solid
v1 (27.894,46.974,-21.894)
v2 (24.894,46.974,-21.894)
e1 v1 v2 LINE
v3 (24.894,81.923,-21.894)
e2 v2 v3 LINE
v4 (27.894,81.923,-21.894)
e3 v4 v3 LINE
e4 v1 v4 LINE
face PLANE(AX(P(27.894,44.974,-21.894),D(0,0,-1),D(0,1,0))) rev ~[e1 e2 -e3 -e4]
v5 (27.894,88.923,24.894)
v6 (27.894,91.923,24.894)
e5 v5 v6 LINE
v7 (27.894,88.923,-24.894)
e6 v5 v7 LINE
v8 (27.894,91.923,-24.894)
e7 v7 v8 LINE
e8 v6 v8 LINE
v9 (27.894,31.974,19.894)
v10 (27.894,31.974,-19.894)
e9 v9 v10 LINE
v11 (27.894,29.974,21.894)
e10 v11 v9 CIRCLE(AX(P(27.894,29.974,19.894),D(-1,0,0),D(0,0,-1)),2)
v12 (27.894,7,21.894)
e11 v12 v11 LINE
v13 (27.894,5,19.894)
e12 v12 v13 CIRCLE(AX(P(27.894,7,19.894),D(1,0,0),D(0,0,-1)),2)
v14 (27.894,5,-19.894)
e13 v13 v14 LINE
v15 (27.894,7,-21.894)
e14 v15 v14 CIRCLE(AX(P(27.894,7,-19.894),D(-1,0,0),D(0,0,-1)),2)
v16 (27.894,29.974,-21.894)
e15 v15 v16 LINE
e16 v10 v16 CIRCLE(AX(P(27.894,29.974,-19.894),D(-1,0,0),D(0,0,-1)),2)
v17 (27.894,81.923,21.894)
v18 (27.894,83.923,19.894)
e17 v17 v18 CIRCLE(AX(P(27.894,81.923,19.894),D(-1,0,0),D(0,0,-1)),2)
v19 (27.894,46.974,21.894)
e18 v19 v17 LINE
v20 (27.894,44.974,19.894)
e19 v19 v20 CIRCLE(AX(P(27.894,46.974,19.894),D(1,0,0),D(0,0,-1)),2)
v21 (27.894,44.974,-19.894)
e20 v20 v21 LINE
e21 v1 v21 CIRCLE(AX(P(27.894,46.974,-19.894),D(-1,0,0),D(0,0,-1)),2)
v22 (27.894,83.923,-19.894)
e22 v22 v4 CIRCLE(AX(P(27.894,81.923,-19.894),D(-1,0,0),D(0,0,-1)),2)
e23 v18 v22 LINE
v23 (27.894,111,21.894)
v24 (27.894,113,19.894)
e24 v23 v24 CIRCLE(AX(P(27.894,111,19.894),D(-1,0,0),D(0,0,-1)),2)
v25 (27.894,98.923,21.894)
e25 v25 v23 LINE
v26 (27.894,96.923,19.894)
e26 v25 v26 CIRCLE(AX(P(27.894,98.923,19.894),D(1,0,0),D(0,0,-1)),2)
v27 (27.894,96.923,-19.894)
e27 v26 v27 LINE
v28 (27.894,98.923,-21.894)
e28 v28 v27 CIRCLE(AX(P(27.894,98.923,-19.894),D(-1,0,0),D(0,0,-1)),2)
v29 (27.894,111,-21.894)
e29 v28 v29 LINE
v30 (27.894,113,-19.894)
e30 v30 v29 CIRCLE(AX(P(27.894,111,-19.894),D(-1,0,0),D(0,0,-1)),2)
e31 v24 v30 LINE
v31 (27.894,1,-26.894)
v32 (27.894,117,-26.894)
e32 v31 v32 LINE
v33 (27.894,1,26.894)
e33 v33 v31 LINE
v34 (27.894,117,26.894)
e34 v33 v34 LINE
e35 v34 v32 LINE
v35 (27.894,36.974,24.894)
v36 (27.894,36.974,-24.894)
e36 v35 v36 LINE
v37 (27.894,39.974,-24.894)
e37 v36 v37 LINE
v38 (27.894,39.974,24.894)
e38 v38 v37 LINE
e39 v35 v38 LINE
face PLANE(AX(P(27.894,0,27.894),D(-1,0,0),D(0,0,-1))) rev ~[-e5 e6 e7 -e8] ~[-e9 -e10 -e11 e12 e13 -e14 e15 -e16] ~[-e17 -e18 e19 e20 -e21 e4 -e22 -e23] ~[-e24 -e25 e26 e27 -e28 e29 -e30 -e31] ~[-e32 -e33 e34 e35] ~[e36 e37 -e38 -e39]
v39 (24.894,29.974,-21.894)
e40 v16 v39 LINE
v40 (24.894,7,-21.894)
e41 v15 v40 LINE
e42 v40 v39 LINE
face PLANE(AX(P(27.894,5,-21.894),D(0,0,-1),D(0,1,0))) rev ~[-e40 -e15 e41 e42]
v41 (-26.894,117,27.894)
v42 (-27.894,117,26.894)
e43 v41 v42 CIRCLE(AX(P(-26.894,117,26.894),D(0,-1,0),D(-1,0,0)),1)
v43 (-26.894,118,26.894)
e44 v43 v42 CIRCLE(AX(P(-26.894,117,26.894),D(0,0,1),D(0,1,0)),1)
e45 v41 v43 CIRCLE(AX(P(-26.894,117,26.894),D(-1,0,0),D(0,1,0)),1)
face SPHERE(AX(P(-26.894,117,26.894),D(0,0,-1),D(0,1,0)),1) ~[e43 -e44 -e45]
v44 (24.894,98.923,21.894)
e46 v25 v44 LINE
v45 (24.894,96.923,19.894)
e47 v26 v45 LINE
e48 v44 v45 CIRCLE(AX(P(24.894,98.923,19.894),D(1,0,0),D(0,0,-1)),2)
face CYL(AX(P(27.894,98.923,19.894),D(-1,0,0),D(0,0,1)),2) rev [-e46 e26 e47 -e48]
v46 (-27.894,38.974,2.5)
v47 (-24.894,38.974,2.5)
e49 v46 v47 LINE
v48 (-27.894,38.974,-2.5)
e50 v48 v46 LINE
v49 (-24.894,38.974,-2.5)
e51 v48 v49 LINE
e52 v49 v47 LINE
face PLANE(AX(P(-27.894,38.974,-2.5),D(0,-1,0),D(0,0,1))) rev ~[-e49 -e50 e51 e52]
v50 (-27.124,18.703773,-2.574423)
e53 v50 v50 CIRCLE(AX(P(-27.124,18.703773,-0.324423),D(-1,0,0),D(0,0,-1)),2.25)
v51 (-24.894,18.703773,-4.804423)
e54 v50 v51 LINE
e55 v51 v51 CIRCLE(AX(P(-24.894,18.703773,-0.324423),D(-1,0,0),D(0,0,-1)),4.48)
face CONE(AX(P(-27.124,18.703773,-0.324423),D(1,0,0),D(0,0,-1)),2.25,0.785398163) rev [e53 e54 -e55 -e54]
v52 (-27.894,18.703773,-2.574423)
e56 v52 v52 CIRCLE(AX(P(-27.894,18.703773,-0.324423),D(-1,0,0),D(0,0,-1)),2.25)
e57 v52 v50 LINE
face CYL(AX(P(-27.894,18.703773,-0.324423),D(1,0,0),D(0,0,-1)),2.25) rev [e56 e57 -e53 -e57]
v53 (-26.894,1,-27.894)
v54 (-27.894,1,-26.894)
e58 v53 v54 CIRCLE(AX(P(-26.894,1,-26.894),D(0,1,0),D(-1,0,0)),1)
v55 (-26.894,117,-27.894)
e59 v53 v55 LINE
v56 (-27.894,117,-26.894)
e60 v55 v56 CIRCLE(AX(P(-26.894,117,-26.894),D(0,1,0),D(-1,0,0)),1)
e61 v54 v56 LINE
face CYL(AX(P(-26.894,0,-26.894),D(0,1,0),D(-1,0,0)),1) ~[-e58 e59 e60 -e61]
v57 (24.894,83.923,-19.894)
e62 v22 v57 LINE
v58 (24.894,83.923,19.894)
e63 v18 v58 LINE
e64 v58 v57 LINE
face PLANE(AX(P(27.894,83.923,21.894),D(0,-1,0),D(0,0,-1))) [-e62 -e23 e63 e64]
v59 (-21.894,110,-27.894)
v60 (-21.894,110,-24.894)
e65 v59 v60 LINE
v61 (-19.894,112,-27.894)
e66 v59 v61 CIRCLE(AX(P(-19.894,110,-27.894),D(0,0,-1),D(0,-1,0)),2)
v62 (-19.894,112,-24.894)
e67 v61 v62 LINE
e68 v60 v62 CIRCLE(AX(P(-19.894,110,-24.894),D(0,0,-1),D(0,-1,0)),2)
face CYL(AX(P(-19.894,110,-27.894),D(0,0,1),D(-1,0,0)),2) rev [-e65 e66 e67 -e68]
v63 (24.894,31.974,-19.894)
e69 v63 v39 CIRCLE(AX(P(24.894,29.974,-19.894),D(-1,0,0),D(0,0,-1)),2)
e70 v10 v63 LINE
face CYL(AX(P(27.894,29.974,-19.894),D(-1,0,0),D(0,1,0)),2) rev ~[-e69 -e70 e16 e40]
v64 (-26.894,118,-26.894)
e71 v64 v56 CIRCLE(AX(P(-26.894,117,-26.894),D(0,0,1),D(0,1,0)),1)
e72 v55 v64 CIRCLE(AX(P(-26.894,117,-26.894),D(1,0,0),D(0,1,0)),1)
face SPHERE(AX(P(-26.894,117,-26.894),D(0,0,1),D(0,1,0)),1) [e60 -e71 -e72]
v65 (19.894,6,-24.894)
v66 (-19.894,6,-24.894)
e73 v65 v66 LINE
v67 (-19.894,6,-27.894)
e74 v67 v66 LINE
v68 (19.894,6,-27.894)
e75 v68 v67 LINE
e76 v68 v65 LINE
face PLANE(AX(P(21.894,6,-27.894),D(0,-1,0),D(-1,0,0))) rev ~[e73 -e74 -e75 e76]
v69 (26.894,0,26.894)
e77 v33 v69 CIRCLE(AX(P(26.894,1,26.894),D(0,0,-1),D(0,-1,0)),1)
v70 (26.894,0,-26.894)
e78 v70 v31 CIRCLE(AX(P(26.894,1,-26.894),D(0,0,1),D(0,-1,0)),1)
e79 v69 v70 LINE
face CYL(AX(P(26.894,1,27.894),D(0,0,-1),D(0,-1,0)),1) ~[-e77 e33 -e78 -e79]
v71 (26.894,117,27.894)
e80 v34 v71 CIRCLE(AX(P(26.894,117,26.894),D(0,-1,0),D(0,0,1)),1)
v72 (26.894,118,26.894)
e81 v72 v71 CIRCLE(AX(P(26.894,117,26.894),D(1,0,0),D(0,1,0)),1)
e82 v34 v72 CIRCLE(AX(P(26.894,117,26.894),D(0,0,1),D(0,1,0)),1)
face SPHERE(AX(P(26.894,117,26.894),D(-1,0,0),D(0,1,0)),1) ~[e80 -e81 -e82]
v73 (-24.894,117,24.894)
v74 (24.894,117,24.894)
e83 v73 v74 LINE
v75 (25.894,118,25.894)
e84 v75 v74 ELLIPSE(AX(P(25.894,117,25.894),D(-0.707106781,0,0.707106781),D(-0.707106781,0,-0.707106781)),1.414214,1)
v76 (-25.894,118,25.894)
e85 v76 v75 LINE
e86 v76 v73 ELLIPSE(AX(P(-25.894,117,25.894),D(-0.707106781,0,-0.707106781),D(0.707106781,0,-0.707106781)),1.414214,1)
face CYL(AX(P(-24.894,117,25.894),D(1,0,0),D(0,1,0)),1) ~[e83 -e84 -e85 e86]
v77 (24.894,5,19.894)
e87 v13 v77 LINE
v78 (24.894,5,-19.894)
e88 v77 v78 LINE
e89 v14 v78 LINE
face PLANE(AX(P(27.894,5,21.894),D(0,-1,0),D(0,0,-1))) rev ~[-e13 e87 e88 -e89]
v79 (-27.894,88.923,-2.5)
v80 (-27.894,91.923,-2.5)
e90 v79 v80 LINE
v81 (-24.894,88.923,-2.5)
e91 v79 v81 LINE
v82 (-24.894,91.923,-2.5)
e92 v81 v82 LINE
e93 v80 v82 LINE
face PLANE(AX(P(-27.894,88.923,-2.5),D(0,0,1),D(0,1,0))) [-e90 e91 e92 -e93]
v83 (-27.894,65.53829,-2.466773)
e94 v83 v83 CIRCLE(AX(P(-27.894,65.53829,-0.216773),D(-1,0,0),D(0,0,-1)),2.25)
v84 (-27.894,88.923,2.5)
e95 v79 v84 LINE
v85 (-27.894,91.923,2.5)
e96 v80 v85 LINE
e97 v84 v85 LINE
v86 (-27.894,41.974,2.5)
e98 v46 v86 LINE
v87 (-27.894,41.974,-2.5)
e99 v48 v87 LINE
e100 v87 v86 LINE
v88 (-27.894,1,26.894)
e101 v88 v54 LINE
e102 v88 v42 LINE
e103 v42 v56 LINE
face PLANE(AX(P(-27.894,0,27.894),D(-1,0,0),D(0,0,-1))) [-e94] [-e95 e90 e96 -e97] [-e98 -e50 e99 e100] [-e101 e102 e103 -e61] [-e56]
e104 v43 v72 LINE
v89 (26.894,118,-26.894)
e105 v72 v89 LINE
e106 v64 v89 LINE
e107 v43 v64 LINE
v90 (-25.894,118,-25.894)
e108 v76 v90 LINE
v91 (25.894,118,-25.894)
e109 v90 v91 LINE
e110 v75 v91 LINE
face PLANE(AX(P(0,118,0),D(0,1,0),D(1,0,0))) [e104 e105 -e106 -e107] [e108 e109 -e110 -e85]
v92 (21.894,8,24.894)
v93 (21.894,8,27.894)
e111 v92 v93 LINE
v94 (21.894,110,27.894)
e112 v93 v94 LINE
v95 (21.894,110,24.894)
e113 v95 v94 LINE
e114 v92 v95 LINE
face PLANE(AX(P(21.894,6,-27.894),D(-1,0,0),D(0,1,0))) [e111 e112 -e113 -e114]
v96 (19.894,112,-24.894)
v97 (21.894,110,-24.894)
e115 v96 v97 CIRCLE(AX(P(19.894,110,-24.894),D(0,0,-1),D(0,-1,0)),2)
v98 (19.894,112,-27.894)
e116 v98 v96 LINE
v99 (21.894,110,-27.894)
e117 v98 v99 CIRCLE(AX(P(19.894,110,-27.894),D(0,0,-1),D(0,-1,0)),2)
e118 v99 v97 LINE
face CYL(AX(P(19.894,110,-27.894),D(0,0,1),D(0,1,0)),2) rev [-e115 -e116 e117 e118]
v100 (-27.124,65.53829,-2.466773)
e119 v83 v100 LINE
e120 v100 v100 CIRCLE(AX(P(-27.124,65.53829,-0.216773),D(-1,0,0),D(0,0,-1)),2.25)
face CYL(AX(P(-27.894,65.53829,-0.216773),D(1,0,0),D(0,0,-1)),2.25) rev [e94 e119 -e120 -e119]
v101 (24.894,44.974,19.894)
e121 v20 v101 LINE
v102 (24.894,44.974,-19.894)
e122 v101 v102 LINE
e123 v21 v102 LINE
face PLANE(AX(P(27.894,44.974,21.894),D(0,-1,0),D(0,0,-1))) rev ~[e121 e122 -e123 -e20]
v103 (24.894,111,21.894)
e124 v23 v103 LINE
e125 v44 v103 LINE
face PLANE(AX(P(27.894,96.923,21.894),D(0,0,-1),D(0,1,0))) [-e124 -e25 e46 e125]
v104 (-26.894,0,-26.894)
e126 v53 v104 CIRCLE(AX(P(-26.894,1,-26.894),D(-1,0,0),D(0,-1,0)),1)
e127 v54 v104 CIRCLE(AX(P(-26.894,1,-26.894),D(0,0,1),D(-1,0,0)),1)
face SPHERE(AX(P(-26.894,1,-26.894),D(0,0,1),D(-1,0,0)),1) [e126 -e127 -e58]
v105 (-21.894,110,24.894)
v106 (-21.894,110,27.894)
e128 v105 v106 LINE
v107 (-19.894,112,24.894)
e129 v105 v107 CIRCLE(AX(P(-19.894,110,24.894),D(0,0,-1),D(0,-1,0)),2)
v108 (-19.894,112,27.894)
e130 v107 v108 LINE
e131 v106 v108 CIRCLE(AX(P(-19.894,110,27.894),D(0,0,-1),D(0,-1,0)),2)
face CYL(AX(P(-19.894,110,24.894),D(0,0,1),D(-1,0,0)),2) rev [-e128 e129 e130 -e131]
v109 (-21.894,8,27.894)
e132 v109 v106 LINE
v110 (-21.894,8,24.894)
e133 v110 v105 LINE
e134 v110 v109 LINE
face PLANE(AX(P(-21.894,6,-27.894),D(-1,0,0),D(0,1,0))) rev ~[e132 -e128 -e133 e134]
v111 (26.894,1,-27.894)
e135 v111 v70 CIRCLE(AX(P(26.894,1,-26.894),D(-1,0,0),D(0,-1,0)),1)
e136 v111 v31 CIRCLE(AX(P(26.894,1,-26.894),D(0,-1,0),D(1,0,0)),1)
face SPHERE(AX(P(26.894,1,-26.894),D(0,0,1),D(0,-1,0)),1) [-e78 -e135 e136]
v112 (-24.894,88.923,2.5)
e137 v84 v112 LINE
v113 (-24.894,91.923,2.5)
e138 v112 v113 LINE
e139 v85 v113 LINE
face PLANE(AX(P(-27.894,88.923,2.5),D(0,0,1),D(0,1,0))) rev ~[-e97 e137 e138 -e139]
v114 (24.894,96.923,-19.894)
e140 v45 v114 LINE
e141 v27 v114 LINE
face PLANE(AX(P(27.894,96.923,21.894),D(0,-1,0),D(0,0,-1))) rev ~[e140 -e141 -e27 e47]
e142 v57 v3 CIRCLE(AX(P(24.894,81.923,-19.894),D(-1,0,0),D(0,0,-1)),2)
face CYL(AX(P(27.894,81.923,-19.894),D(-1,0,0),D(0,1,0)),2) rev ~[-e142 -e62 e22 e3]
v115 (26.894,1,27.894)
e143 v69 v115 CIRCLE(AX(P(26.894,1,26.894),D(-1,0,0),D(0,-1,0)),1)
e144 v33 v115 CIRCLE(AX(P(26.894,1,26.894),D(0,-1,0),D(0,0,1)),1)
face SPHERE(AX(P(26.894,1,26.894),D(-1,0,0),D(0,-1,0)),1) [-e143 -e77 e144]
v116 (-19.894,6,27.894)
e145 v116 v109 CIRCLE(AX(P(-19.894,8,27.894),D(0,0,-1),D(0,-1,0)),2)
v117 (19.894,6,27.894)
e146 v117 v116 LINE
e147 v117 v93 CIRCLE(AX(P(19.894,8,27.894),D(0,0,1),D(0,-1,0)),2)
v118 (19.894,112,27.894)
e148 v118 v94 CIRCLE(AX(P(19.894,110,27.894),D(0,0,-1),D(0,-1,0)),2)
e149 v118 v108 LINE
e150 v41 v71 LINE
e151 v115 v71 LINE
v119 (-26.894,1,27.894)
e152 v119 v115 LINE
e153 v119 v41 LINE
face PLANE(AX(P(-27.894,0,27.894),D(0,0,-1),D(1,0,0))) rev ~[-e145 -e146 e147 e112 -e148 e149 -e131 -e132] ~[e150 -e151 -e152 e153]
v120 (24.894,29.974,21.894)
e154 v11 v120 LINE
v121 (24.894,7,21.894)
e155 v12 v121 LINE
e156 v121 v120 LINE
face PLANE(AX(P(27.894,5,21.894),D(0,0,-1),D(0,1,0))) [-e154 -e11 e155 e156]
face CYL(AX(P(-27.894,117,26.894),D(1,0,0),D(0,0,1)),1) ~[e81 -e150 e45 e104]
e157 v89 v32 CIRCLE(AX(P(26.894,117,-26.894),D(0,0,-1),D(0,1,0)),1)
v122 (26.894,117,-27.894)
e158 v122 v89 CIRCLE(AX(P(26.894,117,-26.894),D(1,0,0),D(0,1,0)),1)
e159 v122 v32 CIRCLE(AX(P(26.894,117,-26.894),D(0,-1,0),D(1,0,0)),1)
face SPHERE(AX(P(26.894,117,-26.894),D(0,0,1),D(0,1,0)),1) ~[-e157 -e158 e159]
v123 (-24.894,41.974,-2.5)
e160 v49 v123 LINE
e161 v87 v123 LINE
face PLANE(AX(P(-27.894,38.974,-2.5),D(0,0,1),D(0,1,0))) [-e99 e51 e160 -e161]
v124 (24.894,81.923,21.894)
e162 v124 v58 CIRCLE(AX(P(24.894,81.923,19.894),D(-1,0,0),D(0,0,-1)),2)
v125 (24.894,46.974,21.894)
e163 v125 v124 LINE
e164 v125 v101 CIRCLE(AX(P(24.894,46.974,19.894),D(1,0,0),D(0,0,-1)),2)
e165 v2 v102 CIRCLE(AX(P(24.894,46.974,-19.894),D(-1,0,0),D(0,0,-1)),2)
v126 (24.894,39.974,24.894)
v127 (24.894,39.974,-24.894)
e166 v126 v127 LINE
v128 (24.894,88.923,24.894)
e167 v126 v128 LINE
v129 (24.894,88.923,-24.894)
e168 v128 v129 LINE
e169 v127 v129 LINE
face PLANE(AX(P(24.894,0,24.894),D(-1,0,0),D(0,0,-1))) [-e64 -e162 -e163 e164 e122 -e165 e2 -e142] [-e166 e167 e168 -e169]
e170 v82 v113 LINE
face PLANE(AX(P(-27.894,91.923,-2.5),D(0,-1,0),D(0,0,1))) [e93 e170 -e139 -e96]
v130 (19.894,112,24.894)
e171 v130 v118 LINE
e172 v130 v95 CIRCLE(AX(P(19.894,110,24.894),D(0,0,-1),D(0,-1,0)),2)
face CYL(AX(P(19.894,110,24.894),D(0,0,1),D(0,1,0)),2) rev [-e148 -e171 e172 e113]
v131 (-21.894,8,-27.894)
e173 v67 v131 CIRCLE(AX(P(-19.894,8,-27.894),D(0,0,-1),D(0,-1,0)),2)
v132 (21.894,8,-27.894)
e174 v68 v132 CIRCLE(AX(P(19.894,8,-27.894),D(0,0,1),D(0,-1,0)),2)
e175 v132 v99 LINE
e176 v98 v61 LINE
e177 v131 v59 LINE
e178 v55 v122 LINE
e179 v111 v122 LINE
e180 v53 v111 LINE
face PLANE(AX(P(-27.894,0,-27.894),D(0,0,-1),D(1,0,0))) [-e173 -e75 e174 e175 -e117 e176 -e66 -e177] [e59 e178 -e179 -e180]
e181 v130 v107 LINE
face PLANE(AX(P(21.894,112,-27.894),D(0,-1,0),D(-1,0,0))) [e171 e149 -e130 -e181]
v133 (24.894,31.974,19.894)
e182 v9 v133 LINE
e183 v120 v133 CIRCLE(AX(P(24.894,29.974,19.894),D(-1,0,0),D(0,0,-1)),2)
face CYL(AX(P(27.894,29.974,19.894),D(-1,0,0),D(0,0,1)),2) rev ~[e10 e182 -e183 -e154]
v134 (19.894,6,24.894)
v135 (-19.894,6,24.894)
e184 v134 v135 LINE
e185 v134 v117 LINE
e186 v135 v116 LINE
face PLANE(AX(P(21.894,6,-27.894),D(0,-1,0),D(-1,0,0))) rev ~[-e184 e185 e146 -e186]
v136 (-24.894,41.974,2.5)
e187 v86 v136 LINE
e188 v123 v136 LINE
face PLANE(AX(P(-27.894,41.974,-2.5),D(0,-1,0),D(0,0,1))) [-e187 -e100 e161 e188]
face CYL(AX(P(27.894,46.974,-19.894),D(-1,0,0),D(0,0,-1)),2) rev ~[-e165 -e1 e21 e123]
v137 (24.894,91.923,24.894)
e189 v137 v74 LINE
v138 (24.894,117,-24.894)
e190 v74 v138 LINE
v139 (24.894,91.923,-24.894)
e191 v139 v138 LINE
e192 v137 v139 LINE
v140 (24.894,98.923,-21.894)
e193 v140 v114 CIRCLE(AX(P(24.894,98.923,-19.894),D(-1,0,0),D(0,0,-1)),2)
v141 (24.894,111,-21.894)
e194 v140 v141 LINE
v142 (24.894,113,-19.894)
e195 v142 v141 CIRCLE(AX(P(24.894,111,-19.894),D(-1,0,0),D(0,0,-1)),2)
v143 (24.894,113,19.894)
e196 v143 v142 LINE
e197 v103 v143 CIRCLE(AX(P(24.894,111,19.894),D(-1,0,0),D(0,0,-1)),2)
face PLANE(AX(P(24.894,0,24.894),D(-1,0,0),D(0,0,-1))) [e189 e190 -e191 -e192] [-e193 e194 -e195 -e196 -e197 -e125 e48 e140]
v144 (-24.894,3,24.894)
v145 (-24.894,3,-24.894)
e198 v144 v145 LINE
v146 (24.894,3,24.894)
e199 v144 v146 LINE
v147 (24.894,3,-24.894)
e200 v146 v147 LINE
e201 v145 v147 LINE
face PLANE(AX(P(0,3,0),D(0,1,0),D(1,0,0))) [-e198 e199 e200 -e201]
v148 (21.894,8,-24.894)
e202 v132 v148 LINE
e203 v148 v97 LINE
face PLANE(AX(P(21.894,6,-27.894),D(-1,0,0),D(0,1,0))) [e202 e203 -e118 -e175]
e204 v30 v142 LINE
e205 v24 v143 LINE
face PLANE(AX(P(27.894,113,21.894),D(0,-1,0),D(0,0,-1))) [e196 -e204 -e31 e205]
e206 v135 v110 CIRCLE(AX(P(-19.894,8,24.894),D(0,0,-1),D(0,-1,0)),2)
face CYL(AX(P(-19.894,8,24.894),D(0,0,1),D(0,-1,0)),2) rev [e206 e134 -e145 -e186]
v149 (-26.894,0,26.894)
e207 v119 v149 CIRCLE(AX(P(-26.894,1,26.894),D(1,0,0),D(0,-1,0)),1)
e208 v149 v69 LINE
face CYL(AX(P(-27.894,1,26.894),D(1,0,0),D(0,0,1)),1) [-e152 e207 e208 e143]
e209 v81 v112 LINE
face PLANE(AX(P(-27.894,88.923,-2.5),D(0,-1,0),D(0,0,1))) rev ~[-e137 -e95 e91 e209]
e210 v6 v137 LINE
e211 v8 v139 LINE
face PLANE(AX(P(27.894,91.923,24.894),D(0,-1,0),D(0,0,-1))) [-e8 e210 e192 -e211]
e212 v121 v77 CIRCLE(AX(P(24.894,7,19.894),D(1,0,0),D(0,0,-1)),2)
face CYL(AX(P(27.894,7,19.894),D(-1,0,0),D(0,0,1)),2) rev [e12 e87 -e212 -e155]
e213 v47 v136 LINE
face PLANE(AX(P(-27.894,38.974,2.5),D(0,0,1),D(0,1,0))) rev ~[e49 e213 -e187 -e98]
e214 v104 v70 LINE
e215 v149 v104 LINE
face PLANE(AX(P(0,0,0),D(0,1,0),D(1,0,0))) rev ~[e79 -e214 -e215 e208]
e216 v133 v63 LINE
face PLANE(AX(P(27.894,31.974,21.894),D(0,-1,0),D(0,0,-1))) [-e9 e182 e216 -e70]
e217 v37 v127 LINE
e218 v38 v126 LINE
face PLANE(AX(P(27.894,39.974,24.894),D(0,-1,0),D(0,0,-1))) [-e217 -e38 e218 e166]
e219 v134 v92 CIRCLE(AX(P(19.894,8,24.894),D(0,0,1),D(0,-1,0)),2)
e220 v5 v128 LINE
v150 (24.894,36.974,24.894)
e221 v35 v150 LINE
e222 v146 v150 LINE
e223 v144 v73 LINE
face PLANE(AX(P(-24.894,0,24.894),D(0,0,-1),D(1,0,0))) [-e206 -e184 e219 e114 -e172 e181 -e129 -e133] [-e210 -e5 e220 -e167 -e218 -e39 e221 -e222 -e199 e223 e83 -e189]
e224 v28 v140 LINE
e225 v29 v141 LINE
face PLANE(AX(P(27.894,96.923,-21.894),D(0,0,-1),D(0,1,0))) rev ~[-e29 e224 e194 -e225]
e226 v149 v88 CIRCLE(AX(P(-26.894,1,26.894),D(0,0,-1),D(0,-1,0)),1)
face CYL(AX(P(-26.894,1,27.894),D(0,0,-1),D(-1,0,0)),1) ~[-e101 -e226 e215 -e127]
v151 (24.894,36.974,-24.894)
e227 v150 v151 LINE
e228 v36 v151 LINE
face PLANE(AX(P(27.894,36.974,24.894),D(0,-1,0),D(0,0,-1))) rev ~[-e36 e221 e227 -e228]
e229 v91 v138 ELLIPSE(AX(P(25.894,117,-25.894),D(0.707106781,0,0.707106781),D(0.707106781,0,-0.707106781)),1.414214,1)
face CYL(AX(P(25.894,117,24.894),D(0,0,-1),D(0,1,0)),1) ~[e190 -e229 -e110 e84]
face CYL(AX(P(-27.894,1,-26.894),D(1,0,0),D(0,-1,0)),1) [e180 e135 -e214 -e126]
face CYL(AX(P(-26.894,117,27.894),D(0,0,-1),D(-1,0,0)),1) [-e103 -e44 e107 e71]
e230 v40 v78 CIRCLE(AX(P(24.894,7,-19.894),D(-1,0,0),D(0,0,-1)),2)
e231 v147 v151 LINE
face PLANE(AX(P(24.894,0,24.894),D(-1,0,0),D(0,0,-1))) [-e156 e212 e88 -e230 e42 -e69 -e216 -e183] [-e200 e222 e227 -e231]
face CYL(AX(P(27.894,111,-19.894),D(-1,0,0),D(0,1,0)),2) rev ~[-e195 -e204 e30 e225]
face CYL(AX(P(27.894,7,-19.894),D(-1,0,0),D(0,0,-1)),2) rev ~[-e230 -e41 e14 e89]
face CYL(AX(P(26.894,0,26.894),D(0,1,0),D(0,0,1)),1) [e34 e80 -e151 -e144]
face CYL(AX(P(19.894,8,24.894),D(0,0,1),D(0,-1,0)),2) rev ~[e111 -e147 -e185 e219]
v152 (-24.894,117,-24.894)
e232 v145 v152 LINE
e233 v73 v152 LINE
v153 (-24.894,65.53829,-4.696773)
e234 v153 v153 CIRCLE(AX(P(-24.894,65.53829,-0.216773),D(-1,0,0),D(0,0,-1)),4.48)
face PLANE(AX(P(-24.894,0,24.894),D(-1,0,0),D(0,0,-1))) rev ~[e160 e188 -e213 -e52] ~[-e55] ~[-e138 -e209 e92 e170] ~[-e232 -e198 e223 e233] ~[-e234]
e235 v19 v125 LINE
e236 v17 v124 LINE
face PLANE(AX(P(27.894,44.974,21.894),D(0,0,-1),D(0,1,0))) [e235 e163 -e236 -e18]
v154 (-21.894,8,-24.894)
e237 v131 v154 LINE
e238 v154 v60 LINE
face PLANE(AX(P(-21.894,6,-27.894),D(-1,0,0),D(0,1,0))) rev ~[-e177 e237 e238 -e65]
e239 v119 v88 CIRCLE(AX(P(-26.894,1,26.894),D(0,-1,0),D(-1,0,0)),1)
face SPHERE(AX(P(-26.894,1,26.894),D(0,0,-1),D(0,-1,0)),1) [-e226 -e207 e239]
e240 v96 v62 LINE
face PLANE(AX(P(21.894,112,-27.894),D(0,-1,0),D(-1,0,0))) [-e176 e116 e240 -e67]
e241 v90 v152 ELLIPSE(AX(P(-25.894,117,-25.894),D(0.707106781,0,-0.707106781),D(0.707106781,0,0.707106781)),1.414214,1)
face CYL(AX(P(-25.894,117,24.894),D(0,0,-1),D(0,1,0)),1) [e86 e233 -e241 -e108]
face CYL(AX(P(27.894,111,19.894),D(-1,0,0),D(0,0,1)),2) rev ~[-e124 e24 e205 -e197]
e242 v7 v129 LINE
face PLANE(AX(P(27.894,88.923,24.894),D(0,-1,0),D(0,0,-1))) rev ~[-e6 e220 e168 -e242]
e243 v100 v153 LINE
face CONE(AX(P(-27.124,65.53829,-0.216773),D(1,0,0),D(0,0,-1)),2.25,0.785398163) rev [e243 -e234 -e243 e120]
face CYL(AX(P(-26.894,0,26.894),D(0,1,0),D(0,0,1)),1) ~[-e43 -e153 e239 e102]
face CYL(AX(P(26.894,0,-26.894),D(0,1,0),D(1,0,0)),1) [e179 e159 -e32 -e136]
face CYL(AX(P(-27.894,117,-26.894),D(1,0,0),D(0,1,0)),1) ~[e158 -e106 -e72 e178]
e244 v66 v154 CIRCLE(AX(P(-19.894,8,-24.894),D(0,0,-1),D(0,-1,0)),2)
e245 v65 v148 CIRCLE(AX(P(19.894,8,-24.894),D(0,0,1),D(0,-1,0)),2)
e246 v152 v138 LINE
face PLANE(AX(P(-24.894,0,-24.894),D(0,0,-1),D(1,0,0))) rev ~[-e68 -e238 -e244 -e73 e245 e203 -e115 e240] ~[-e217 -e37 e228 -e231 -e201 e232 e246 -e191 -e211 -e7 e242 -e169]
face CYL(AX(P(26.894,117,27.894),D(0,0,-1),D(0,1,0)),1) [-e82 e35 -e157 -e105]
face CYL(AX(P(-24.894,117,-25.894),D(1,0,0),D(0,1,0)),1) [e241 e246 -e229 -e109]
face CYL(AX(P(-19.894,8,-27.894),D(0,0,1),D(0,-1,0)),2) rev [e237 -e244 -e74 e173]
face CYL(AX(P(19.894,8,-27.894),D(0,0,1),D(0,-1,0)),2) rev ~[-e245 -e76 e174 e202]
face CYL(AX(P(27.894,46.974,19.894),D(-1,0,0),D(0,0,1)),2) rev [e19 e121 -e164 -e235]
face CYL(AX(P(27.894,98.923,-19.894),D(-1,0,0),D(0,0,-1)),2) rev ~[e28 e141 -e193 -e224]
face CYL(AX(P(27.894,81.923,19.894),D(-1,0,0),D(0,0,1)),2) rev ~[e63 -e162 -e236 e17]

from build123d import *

# Parameters (mm, degrees)
SKETCH1_W                    = 49.788
SKETCH1_H                    = 49.788
BOSS_EXTRUDE1_DEPTH          = 3
SKETCH1_3_W                  = 55.788
SKETCH1_3_H                  = 55.788
SKETCH1_3_W_2                = 49.788
SKETCH1_3_H_2                = 49.788
BOSS_EXTRUDE2_DEPTH          = 118
SKETCH2_W                    = 49.788
SKETCH2_H                    = 3
SKETCH2_W_2                  = 43.788
SKETCH2_H_2                  = 38.949
SKETCH2_H_3                  = 26.974
SKETCH2_H_4                  = 16.077
CUT_EXTRUDE1_DEPTH           = 3
FILLET1_R                    = 2
SKETCH3_W                    = 43.788
SKETCH3_H                    = 106
CUT_EXTRUDE2_DEPTH           = 56
FILLET2_R                    = 2
SKETCH4_W                    = 5
SKETCH4_H                    = 3
CUT_EXTRUDE3_DEPTH           = 3
CSK_FOR_M4_SFHCS1_AT_2_COUNT = 2
CSK_FOR_M4_SFHCS1_AT_2_PITCH = 46.834641181
CSK_FOR_M4_SFHCS1_AT_3_COUNT = 2
CSK_FOR_M4_SFHCS1_AT_3_PITCH = 46.834641181
FILLET3_R                    = 1


with BuildPart() as part:
    # Sketch1 → Boss-Extrude1 (new body)
    with BuildSketch(Plane(origin=(0, 0, 0), x_dir=(1, 0, 0), z_dir=(0, 1, 0))):
        Rectangle(SKETCH1_W, SKETCH1_H)
    extrude(amount=BOSS_EXTRUDE1_DEPTH)

    # Sketch1<3> → Boss-Extrude2 (add)
    with BuildSketch(Plane(origin=(0, 0, 0), x_dir=(1, 0, 0), z_dir=(0, 1, 0))):
        Rectangle(SKETCH1_3_W, SKETCH1_3_H)
        Rectangle(SKETCH1_3_W_2, SKETCH1_3_H_2, mode=Mode.SUBTRACT)
    extrude(amount=BOSS_EXTRUDE2_DEPTH)

    # Sketch2 → Cut-Extrude1 (cut)
    with BuildSketch(Plane(origin=(27.894, 0, 0), x_dir=(0, 0, -1), z_dir=(1, 0, 0))):
        with Locations((0, 90.423)):
            Rectangle(SKETCH2_W, SKETCH2_H)
        with Locations((0, 38.474)):
            Rectangle(SKETCH2_W, SKETCH2_H)
        with Locations((0, 64.4485)):
            Rectangle(SKETCH2_W_2, SKETCH2_H_2)
        with Locations((0, 18.487)):
            Rectangle(SKETCH2_W_2, SKETCH2_H_3)
        with Locations((0, 104.9615)):
            Rectangle(SKETCH2_W_2, SKETCH2_H_4)
    extrude(amount=-CUT_EXTRUDE1_DEPTH, mode=Mode.SUBTRACT)

    # Fillet1
    fillet1_edges = [part.edges().sort_by_distance(p)[0] for p in [
        (26.394, 5, -21.894),
        (26.394, 31.974, -21.894),
        (26.394, 31.974, 21.894),
        (26.394, 5, 21.894),
        (26.394, 44.974, -21.894),
        (26.394, 83.923, -21.894),
        (26.394, 83.923, 21.894),
        (26.394, 44.974, 21.894),
        (26.394, 96.923, 21.894),
        (26.394, 113, 21.894),
        (26.394, 113, -21.894),
        (26.394, 96.923, -21.894),
    ]]
    fillet(fillet1_edges, radius=FILLET1_R)

    # Sketch3 → Cut-Extrude2 (cut)
    with BuildSketch(Plane(origin=(0, 0, -27.894), x_dir=(-1, 0, 0), z_dir=(0, 0, -1))):
        with Locations((0, 59)):
            Rectangle(SKETCH3_W, SKETCH3_H)
    extrude(amount=-CUT_EXTRUDE2_DEPTH, mode=Mode.SUBTRACT)

    # Fillet2
    fillet2_edges = [part.edges().sort_by_distance(p)[0] for p in [
        (21.894, 112, 26.394),
        (-21.894, 112, 26.394),
        (-21.894, 6, 26.394),
        (21.894, 6, 26.394),
        (21.894, 6, -26.394),
        (21.894, 112, -26.394),
        (-21.894, 112, -26.394),
        (-21.894, 6, -26.394),
    ]]
    fillet(fillet2_edges, radius=FILLET2_R)

    # Sketch4 → Cut-Extrude3 (cut)
    with BuildSketch(Plane.ZY.offset(27.894)):
        with Locations((0, 90.423)):
            Rectangle(SKETCH4_W, SKETCH4_H)
        with Locations((0, 40.474)):
            Rectangle(SKETCH4_W, SKETCH4_H)
    extrude(amount=-CUT_EXTRUDE3_DEPTH, mode=Mode.SUBTRACT)

    # Sketch7 → CSK for M4 SFHCS1 (revolve, cut)
    with BuildSketch(Plane(origin=(-24.894, 65.538290214, -0.216772751), x_dir=(0, 0, -1), z_dir=(0, 1, 0))):
        Polygon((0, 0), (0, 3), (2.25, 3), (2.25, 2.23), (4.48, 0), align=None)
    csk_for_m4_sfhcs1 = revolve(axis=Axis((-18.544, 65.538290214, -0.216772751), (-1, 0, 0)), mode=Mode.SUBTRACT)

    # CSK for M4 SFHCS1 at 2: CSK for M4 SFHCS1 ×2
    with Locations(*[Vector(0, -0.999997358387733, -0.002298525082753328) * (i * CSK_FOR_M4_SFHCS1_AT_2_PITCH) for i in range(1, CSK_FOR_M4_SFHCS1_AT_2_COUNT)]):
        add(csk_for_m4_sfhcs1, mode=Mode.SUBTRACT)

    # CSK for M4 SFHCS1 at 3: CSK for M4 SFHCS1 ×2
    with Locations(*[Vector(0, -0.999997358387733, -0.002298525082753328) * (i * CSK_FOR_M4_SFHCS1_AT_3_PITCH) for i in range(1, CSK_FOR_M4_SFHCS1_AT_3_COUNT)]):
        add(csk_for_m4_sfhcs1, mode=Mode.SUBTRACT)

    # Fillet3
    fillet3_edges = [part.edges().sort_by_distance(p)[0] for p in [
        (0, 118, -27.894),
        (-27.894, 118, 0),
        (-24.894, 118, 0),
        (0, 118, -24.894),
        (0, 118, 27.894),
        (0, 118, 24.894),
        (24.894, 118, 0),
        (27.894, 118, 0),
        (0, 0, -27.894),
        (27.894, 0, 0),
        (0, 0, 27.894),
        (-27.894, 59, 27.894),
        (27.894, 59, 27.894),
        (-27.894, 59, -27.894),
        (27.894, 59, -27.894),
        (-27.894, 0, 0),
    ]]
    fillet(fillet3_edges, radius=FILLET3_R)


solid = part.part
